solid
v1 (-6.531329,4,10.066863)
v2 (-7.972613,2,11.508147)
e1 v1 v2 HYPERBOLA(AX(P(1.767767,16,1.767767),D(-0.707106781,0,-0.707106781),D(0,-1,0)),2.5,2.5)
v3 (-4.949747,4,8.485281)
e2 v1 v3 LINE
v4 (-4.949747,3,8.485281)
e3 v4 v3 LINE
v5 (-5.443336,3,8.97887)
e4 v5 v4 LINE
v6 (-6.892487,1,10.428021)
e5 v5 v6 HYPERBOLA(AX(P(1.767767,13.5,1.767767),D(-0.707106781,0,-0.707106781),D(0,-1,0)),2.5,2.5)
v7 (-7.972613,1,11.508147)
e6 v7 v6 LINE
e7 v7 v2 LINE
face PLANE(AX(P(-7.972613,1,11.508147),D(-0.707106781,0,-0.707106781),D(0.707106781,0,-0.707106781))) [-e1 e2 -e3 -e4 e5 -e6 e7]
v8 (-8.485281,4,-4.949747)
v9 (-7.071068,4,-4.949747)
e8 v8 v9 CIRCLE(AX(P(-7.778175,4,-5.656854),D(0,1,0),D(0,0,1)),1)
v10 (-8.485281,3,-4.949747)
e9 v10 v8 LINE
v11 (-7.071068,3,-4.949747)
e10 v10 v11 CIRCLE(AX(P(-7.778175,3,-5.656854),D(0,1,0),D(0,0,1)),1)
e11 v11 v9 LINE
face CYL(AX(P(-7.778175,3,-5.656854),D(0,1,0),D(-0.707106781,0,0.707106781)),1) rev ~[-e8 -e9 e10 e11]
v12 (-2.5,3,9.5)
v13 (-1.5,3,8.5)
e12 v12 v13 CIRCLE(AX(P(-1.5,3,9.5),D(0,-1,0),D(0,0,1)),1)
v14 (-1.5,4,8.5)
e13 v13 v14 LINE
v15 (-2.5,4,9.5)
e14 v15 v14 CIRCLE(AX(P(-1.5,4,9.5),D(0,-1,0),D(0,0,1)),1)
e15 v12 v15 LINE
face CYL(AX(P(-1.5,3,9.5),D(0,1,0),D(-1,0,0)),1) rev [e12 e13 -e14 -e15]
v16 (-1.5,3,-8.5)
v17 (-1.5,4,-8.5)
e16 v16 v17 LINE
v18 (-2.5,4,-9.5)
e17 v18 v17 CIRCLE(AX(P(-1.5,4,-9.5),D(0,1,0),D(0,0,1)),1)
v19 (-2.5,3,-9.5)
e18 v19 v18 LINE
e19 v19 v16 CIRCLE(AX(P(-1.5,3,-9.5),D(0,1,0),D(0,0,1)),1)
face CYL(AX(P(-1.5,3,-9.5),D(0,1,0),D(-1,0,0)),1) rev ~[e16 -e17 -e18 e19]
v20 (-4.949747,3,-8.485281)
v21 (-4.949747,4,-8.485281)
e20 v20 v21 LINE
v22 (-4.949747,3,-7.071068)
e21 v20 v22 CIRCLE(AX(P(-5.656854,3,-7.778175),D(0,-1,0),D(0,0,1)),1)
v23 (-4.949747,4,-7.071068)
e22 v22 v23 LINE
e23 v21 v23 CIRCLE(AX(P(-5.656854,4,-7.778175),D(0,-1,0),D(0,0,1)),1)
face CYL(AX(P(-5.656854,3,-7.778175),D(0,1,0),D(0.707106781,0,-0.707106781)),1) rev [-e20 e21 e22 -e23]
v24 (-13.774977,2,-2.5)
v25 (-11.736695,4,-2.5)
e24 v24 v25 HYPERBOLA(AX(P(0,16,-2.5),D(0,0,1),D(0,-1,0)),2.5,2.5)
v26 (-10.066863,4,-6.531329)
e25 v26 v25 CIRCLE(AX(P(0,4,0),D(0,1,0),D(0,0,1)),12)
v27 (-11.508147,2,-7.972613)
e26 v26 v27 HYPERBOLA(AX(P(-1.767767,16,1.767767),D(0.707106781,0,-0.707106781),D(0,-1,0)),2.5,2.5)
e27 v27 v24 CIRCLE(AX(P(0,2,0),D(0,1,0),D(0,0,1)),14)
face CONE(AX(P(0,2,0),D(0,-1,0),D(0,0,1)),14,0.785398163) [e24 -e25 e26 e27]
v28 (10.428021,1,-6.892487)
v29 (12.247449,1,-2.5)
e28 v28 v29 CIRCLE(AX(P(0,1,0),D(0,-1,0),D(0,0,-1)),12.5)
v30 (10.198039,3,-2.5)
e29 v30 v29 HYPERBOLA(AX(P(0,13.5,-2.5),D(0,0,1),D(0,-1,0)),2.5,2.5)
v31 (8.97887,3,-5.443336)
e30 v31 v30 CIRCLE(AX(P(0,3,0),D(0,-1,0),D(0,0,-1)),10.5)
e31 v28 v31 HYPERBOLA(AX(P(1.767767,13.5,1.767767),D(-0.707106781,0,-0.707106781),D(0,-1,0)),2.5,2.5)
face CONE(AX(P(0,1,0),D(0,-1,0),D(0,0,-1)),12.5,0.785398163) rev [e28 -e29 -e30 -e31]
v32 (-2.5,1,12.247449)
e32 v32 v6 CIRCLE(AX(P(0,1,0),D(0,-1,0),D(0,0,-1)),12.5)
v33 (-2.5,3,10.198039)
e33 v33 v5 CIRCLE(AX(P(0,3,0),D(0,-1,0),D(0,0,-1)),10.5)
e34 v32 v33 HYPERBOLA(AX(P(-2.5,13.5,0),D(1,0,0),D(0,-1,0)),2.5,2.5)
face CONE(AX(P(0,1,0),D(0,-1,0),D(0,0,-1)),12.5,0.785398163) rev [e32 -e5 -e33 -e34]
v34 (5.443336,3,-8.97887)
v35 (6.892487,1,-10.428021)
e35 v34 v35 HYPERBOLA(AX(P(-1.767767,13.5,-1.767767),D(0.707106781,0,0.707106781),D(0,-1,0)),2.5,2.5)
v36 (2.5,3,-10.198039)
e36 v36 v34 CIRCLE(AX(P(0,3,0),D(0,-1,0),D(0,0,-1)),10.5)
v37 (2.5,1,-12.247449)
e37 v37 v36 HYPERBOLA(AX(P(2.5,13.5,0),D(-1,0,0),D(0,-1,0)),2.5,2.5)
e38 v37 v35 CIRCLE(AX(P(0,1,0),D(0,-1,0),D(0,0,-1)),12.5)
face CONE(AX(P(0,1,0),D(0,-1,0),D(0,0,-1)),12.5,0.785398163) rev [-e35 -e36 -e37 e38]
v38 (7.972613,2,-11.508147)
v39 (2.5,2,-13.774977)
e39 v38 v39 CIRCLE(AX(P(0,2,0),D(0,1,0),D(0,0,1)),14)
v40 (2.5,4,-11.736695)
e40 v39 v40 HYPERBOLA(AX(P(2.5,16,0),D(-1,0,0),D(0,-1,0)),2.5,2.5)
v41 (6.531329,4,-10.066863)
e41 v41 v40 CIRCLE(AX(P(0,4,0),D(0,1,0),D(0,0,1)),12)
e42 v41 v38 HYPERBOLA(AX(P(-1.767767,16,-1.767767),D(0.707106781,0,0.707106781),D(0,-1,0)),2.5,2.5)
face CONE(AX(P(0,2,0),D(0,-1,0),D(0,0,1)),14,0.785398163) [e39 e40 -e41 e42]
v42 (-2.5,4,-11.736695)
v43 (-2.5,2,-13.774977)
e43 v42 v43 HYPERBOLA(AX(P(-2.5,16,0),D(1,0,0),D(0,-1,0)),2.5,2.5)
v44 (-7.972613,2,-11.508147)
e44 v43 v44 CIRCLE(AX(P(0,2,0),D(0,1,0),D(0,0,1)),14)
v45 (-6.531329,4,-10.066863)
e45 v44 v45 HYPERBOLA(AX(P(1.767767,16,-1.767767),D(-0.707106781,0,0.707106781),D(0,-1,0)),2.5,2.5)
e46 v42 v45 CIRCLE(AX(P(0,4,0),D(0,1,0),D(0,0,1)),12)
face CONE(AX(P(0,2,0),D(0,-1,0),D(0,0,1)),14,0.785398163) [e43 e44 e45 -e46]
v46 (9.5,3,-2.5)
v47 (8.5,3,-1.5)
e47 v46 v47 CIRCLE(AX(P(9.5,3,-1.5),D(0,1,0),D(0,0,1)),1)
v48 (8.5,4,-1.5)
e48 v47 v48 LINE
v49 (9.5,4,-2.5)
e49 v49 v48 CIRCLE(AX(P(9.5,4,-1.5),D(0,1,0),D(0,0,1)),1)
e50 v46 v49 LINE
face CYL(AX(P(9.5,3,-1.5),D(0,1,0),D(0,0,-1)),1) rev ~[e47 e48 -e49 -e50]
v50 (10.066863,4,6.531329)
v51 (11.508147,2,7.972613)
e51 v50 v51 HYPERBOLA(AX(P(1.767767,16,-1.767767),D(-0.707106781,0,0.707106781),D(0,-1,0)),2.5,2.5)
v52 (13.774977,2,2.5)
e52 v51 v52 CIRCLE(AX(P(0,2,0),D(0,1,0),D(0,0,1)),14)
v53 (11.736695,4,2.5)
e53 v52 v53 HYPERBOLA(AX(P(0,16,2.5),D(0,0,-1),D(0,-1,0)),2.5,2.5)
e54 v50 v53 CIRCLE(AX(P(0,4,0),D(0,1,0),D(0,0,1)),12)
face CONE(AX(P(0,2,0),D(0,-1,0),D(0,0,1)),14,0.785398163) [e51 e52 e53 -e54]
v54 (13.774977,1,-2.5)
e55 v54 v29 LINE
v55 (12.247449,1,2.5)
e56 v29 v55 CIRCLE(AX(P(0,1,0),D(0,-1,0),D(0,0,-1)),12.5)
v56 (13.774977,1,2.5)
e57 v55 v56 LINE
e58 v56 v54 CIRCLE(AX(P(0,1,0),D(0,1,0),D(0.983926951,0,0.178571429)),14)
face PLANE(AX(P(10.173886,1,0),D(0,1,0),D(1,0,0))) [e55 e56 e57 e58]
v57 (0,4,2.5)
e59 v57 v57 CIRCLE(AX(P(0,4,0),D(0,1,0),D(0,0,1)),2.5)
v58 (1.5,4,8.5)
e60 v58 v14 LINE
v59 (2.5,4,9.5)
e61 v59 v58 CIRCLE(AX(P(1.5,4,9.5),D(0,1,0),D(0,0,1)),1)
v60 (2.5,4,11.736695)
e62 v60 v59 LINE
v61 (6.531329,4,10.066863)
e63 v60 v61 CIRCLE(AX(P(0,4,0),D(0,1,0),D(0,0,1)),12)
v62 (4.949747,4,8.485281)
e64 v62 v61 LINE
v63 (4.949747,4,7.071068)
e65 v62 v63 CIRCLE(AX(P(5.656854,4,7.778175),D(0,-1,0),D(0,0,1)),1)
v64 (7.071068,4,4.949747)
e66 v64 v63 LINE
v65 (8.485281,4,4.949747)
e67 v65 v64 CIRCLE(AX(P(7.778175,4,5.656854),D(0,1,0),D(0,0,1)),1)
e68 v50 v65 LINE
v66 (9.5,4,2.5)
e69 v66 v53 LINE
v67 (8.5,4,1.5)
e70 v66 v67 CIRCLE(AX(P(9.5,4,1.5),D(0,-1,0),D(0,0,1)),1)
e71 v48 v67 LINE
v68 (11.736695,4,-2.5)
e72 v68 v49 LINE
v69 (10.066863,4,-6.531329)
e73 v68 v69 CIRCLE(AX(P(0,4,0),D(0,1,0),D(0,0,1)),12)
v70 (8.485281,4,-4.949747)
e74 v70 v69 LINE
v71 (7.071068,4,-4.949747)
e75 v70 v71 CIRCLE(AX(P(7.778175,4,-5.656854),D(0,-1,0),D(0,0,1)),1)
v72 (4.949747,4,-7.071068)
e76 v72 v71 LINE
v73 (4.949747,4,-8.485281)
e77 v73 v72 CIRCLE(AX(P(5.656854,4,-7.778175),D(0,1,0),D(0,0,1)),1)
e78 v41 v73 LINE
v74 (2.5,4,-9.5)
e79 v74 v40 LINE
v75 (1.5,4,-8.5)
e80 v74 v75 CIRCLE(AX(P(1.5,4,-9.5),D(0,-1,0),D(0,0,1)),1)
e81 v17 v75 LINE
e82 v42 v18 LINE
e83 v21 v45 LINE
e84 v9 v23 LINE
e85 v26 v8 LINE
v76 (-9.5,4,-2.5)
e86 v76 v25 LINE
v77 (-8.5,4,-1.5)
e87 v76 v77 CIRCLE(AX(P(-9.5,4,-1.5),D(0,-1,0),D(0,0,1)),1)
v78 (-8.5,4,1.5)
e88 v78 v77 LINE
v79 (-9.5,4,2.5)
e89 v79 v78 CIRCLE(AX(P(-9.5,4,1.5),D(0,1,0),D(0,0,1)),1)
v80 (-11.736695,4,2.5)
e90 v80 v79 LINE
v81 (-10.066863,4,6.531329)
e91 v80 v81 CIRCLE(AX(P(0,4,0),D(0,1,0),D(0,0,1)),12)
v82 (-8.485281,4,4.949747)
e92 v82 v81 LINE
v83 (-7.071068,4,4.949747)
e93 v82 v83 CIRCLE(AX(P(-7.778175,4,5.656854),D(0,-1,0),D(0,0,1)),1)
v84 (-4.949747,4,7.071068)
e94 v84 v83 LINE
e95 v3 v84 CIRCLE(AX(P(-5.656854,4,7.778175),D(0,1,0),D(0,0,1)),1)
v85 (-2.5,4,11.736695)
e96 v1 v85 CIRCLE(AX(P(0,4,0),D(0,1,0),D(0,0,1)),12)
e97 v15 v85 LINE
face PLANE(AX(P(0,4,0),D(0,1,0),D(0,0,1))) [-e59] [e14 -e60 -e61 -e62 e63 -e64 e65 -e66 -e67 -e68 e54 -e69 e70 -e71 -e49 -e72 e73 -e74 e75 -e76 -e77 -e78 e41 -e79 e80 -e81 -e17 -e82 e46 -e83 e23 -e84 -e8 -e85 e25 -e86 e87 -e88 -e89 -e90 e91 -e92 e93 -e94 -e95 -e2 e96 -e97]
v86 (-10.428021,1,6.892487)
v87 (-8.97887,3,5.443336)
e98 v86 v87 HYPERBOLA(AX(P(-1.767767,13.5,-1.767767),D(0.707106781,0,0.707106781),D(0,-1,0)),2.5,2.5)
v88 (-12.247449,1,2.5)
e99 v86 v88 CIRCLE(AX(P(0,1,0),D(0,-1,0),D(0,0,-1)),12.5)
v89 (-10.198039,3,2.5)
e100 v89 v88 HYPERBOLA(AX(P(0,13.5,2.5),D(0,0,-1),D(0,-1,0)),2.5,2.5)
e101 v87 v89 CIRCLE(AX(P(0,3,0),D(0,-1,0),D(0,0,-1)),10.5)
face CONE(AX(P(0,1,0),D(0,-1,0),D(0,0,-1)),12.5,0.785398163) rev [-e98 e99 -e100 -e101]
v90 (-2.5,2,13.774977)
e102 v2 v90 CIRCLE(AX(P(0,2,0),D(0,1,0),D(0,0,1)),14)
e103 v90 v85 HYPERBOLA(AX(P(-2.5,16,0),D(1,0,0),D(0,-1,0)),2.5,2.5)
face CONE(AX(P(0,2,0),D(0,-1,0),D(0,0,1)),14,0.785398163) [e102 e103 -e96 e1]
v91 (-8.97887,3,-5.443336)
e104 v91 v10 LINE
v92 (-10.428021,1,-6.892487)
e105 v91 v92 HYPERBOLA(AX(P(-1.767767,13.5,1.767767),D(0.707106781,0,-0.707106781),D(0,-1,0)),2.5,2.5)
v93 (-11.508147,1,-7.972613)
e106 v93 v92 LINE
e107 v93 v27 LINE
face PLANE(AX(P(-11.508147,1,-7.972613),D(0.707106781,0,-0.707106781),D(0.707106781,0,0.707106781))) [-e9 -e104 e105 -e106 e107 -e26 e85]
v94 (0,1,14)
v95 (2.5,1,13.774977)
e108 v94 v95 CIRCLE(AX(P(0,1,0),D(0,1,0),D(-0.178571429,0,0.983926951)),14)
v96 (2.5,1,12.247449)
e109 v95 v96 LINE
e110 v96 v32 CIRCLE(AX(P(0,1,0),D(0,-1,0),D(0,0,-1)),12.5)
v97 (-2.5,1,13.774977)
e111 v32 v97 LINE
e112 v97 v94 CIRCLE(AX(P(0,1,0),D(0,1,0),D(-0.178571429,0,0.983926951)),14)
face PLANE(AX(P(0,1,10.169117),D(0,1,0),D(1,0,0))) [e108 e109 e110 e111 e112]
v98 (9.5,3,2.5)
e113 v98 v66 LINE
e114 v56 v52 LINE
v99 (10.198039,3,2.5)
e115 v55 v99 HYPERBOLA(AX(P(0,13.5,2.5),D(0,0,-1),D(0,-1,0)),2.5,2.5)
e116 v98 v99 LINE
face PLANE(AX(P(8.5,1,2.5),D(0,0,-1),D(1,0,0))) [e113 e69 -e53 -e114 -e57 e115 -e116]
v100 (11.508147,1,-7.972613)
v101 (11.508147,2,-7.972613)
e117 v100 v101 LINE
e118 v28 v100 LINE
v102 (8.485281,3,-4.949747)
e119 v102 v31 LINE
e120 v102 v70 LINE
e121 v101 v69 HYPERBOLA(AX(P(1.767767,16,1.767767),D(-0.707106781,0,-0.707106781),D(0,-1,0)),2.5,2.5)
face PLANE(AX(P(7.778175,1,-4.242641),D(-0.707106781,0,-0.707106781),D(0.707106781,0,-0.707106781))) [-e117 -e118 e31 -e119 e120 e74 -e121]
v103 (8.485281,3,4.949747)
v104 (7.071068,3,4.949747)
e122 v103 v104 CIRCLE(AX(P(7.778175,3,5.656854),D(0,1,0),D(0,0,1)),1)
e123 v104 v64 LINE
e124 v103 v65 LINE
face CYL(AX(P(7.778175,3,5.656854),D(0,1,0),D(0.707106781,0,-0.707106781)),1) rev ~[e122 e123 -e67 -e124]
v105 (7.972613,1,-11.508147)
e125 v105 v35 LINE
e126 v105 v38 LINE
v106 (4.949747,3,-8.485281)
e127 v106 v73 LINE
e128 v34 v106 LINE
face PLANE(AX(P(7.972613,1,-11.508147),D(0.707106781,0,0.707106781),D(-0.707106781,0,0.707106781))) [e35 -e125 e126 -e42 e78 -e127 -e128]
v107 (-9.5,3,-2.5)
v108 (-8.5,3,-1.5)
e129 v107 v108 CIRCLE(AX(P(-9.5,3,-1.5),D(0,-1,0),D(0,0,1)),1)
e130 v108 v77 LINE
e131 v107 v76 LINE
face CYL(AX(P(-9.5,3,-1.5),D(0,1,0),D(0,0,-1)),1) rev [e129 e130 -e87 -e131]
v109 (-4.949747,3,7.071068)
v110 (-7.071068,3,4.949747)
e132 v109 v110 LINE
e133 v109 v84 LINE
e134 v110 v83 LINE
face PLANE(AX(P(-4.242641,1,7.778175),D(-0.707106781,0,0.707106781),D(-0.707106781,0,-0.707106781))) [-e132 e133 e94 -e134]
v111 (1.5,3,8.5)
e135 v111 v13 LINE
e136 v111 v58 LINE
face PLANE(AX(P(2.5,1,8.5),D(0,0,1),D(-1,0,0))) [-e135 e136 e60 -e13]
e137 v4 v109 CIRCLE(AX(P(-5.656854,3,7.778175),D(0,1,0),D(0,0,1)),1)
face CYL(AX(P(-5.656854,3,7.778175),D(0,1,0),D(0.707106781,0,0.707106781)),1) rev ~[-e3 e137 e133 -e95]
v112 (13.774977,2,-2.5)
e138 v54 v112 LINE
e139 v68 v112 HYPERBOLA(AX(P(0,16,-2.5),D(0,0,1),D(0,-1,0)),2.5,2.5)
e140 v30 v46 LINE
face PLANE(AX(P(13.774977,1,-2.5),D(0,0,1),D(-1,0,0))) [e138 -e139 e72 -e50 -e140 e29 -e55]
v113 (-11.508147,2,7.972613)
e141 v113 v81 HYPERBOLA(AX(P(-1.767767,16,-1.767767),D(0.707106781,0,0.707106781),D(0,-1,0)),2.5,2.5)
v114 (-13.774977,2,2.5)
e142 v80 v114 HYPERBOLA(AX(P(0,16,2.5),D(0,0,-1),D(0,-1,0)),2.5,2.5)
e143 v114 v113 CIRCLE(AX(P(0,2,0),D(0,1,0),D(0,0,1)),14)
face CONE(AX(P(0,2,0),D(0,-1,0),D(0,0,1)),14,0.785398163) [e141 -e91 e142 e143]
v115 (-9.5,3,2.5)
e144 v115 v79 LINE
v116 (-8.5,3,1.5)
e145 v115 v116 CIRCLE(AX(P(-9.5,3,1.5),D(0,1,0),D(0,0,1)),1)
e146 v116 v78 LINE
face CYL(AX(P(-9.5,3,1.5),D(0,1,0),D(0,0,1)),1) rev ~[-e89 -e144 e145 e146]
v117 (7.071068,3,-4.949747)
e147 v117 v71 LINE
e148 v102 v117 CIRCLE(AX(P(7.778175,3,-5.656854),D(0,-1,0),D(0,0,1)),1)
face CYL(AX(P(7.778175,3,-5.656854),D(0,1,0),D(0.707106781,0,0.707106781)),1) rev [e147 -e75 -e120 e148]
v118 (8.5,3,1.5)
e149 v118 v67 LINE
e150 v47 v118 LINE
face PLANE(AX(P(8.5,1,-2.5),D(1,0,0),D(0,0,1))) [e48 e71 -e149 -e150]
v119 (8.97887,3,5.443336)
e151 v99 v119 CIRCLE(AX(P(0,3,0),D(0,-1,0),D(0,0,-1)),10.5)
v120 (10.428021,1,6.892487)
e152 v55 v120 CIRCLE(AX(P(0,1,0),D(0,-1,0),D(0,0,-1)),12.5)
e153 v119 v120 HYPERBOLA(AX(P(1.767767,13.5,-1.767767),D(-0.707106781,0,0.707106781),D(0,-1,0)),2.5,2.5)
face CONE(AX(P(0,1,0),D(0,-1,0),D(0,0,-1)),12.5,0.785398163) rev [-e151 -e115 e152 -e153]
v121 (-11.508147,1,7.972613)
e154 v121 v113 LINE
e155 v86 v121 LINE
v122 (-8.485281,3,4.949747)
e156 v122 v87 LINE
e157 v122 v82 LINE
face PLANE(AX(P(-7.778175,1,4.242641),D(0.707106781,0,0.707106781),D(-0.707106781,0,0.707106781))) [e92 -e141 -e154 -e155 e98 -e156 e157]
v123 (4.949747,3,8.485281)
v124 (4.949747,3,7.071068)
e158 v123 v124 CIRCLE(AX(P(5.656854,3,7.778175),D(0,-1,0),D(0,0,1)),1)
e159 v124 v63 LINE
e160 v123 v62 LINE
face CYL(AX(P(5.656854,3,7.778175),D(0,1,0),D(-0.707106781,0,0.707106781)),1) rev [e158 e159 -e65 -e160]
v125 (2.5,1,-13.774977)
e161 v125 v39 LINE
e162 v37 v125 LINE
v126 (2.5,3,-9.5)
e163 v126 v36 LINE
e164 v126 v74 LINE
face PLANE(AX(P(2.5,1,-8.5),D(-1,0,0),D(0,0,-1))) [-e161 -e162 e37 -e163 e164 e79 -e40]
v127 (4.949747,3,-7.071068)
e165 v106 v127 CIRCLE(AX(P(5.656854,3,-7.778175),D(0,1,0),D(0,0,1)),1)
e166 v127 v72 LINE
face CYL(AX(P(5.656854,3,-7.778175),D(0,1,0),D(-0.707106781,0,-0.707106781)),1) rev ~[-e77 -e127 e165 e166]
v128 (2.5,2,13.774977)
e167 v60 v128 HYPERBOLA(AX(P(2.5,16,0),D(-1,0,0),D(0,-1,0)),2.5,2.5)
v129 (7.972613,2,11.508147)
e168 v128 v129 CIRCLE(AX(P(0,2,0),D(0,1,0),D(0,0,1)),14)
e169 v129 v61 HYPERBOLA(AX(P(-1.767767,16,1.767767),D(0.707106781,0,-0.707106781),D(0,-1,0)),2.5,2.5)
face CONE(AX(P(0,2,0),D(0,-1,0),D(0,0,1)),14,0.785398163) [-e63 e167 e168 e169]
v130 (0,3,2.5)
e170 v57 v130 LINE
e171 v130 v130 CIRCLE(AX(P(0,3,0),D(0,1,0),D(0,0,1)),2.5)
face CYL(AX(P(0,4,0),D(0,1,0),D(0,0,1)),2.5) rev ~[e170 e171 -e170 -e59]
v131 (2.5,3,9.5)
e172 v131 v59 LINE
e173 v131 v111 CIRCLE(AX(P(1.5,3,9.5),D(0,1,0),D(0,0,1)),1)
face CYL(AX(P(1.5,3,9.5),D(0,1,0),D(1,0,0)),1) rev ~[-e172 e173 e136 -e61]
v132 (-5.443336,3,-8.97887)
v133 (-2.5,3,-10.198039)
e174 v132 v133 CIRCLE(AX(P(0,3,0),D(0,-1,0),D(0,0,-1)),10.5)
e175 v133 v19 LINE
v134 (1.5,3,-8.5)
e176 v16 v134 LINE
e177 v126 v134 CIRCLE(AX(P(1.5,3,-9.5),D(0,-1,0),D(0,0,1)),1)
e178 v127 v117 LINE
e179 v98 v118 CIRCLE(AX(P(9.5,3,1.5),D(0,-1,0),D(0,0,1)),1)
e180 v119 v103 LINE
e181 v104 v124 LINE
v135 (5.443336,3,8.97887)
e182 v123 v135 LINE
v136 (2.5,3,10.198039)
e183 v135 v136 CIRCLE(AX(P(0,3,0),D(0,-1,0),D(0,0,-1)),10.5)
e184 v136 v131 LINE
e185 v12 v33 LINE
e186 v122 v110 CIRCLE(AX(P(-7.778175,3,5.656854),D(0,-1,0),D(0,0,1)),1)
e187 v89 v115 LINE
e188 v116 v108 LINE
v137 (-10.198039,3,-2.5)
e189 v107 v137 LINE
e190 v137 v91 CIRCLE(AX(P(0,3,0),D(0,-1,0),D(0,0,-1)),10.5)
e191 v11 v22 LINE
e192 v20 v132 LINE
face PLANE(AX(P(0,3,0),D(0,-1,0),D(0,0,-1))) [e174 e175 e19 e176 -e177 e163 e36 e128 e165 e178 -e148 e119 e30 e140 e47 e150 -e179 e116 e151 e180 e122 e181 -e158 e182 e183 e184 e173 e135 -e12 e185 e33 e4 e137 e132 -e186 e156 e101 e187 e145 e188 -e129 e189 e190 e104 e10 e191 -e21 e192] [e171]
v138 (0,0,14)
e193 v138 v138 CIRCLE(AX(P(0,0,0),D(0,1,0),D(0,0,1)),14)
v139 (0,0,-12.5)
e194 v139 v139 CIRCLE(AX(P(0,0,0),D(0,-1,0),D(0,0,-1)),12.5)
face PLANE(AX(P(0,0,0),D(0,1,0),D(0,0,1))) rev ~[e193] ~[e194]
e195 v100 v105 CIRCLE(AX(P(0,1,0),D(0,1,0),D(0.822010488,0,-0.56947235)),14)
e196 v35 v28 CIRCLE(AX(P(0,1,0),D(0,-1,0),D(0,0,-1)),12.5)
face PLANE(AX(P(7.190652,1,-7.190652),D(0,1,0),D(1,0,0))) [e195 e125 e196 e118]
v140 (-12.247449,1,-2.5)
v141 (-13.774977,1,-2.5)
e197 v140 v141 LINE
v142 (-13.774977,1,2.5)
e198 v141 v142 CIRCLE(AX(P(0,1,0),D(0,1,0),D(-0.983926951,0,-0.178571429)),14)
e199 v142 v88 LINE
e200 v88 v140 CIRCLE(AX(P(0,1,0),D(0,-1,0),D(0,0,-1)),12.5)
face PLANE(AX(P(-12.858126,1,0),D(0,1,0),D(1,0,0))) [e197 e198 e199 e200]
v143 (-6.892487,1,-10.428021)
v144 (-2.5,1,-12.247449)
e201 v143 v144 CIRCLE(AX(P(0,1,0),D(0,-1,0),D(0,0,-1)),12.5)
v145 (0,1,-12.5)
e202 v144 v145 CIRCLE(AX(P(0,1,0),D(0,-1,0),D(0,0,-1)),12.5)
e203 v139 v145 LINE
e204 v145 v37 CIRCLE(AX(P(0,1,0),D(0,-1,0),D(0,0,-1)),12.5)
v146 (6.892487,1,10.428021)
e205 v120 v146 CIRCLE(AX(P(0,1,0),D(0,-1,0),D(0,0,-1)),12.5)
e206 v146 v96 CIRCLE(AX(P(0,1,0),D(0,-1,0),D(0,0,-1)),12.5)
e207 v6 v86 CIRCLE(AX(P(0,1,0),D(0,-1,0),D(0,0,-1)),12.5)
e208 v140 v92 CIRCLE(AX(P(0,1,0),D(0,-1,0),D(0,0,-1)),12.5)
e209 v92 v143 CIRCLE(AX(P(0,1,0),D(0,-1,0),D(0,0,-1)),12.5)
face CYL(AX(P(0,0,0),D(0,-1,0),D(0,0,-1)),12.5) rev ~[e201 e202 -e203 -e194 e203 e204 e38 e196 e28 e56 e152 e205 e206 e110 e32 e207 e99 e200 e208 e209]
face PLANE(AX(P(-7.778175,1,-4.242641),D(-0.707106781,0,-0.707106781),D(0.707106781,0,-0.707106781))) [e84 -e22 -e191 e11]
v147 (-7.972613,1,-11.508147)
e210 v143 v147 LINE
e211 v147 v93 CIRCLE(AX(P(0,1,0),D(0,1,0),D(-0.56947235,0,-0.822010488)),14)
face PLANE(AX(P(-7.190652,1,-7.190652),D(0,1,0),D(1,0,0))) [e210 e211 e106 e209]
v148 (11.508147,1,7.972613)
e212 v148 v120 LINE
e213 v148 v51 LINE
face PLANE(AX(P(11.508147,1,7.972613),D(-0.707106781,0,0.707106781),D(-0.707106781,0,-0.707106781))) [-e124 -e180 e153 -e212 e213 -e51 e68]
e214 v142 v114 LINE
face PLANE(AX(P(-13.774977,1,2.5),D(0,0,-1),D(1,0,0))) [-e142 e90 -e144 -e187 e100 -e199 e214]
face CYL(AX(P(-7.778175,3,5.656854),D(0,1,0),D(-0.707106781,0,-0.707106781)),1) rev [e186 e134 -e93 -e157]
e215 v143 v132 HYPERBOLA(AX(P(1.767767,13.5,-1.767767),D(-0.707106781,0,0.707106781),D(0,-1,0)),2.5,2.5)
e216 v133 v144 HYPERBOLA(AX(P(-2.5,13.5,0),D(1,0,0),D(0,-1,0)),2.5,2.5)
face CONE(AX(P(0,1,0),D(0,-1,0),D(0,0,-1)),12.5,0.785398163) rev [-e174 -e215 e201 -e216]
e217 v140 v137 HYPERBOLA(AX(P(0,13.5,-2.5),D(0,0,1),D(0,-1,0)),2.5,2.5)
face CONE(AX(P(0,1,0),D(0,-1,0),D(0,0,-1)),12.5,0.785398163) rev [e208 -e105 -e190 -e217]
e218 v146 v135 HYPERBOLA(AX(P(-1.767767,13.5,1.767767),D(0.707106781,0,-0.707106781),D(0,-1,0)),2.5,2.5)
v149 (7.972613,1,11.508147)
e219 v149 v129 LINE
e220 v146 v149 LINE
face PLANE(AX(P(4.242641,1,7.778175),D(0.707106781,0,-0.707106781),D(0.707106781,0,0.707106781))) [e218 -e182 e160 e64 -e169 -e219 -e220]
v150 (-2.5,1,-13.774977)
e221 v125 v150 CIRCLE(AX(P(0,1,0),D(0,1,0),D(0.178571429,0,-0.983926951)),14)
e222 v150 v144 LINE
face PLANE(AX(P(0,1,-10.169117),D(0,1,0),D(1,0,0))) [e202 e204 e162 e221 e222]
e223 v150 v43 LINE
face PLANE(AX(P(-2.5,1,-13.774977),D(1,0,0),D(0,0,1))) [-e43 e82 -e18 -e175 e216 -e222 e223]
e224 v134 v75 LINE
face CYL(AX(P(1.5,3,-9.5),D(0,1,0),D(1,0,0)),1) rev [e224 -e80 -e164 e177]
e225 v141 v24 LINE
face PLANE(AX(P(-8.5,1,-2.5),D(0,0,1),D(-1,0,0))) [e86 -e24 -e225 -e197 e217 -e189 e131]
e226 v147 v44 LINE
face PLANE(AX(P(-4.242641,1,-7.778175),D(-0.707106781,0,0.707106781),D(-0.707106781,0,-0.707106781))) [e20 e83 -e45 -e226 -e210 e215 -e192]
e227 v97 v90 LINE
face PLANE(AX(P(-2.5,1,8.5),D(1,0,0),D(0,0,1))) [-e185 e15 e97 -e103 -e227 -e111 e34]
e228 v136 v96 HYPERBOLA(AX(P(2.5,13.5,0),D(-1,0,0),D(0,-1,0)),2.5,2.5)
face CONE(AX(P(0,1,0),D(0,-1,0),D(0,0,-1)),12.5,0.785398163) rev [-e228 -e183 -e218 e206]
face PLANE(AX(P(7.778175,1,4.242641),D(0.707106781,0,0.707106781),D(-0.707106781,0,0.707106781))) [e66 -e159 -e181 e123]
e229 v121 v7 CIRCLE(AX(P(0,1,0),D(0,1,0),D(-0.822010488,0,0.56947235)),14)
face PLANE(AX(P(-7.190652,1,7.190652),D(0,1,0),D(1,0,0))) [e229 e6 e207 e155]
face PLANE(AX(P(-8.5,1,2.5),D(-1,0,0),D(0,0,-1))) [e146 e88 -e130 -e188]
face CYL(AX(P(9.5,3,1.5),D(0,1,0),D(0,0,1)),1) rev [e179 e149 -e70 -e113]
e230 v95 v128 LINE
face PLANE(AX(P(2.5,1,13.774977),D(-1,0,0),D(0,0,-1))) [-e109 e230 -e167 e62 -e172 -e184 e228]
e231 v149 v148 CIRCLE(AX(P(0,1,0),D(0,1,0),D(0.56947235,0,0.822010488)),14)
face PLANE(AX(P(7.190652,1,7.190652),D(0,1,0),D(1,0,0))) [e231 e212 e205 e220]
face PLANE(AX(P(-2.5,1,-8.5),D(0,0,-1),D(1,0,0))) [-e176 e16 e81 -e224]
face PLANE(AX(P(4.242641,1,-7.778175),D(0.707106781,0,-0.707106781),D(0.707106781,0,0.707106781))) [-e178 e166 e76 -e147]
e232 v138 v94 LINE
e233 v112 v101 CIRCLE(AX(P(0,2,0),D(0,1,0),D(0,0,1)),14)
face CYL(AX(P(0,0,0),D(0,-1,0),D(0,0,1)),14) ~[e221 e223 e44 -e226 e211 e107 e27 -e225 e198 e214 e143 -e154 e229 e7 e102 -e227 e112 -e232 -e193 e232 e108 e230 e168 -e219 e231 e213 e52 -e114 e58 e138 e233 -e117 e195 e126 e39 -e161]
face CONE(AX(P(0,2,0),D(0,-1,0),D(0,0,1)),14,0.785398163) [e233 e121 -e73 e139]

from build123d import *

# Parameters (mm, degrees)
SKETCH1_R           = 14
BOSS_EXTRUDE1_DEPTH = 4
SKETCH2_R           = 12.5
CUT_EXTRUDE1_DEPTH  = 3
CHAMFER2_SIZE       = 2
CUT_EXTRUDE2_START  = -3
CUT_EXTRUDE2_DEPTH  = 3
FILLET2_R           = 1
SKETCH4_R           = 2.5
CUT_EXTRUDE3_DEPTH  = 3


with BuildPart() as part:
    # Sketch1 → Boss-Extrude1 (new body)
    with BuildSketch(Plane(origin=(0, 0, 0), x_dir=(1, 0, 0), z_dir=(0, 1, 0))):
        Circle(SKETCH1_R)
    extrude(amount=BOSS_EXTRUDE1_DEPTH)

    # Sketch2 → Cut-Extrude1 (cut)
    with BuildSketch(Plane.XZ):
        Circle(SKETCH2_R)
    extrude(amount=-CUT_EXTRUDE1_DEPTH, mode=Mode.SUBTRACT)

    # Chamfer2
    chamfer2_edges = [part.edges().sort_by_distance(p)[0] for p in [
        (-12.5, 3, 0),
        (-14, 4, 0),
    ]]
    chamfer(chamfer2_edges, length=CHAMFER2_SIZE)

    # Sketch3 → Cut-Extrude2 (cut)
    with BuildSketch(Plane(origin=(0, 4, 0), x_dir=(1, 0, 0), z_dir=(0, 1, 0)).offset(CUT_EXTRUDE2_START)):
        with BuildLine():
            ThreePointArc((-13.774977314, 2.5), (-14, 0), (-13.774977314, -2.5))
            Line((-13.774977314, -2.5), (-8.5, -2.5))
            Line((-8.5, -2.5), (-8.5, 2.5))
            Line((-8.5, 2.5), (-13.774977314, 2.5))
        make_face()
        with BuildLine():
            Line((-4.242640687, 7.778174593), (-7.972612916, 11.508146822))
            ThreePointArc((-7.972612916, 11.508146822), (-9.899494937, 9.899494937), (-11.508146822, 7.972612916))
            Line((-11.508146822, 7.972612916), (-7.778174593, 4.242640687))
            Line((-7.778174593, 4.242640687), (-4.242640687, 7.778174593))
        make_face()
        with BuildLine():
            Line((-7.972612916, -11.508146822), (-4.242640687, -7.778174593))
            Line((-4.242640687, -7.778174593), (-7.778174593, -4.242640687))
            Line((-7.778174593, -4.242640687), (-11.508146822, -7.972612916))
            ThreePointArc((-11.508146822, -7.972612916), (-9.899494937, -9.899494937), (-7.972612916, -11.508146822))
        make_face()
        with BuildLine():
            Line((2.5, 8.5), (2.5, 13.774977314))
            ThreePointArc((2.5, 13.774977314), (0, 14), (-2.5, 13.774977314))
            Line((-2.5, 13.774977314), (-2.5, 8.5))
            Line((-2.5, 8.5), (2.5, 8.5))
        make_face()
        with BuildLine():
            Line((2.5, -13.774977314), (2.5, -8.5))
            Line((2.5, -8.5), (-2.5, -8.5))
            Line((-2.5, -8.5), (-2.5, -13.774977314))
            ThreePointArc((-2.5, -13.774977314), (0, -14), (2.5, -13.774977314))
        make_face()
        with BuildLine():
            Line((7.778174593, 4.242640687), (11.508146822, 7.972612916))
            ThreePointArc((11.508146822, 7.972612916), (9.899494937, 9.899494937), (7.972612916, 11.508146822))
            Line((7.972612916, 11.508146822), (4.242640687, 7.778174593))
            Line((4.242640687, 7.778174593), (7.778174593, 4.242640687))
        make_face()
        with BuildLine():
            Line((11.508146822, -7.972612916), (7.778174593, -4.242640687))
            Line((7.778174593, -4.242640687), (4.242640687, -7.778174593))
            Line((4.242640687, -7.778174593), (7.972612916, -11.508146822))
            ThreePointArc((7.972612916, -11.508146822), (9.899494937, -9.899494937), (11.508146822, -7.972612916))
        make_face()
        with BuildLine():
            Line((8.5, -2.5), (13.774977314, -2.5))
            ThreePointArc((13.774977314, -2.5), (14, 0), (13.774977314, 2.5))
            Line((13.774977314, 2.5), (8.5, 2.5))
            Line((8.5, 2.5), (8.5, -2.5))
        make_face()
    extrude(amount=CUT_EXTRUDE2_DEPTH, mode=Mode.SUBTRACT)

    # Fillet2
    fillet2_edges = [part.edges().sort_by_distance(p)[0] for p in [
        (8.5, 3.5, 2.5),
        (4.242640687, 3.5, 7.778174593),
        (8.5, 3.5, -2.5),
        (7.778174593, 3.5, -4.242640687),
        (4.242640687, 3.5, -7.778174593),
        (-2.5, 3.5, -8.5),
        (2.5, 3.5, -8.5),
        (-4.242640687, 3.5, -7.778174593),
        (-7.778174593, 3.5, -4.242640687),
        (-8.5, 3.5, 2.5),
        (-8.5, 3.5, -2.5),
        (-4.242640687, 3.5, 7.778174593),
        (2.5, 3.5, 8.5),
        (7.778174593, 3.5, 4.242640687),
        (-7.778174593, 3.5, 4.242640687),
        (-2.5, 3.5, 8.5),
    ]]
    fillet(fillet2_edges, radius=FILLET2_R)

    # Sketch4 → Cut-Extrude3 (cut)
    with BuildSketch(Plane(origin=(0, 4, 0), x_dir=(1, 0, 0), z_dir=(0, 1, 0))):
        Circle(SKETCH4_R)
    extrude(amount=-CUT_EXTRUDE3_DEPTH, mode=Mode.SUBTRACT)


solid = part.part
